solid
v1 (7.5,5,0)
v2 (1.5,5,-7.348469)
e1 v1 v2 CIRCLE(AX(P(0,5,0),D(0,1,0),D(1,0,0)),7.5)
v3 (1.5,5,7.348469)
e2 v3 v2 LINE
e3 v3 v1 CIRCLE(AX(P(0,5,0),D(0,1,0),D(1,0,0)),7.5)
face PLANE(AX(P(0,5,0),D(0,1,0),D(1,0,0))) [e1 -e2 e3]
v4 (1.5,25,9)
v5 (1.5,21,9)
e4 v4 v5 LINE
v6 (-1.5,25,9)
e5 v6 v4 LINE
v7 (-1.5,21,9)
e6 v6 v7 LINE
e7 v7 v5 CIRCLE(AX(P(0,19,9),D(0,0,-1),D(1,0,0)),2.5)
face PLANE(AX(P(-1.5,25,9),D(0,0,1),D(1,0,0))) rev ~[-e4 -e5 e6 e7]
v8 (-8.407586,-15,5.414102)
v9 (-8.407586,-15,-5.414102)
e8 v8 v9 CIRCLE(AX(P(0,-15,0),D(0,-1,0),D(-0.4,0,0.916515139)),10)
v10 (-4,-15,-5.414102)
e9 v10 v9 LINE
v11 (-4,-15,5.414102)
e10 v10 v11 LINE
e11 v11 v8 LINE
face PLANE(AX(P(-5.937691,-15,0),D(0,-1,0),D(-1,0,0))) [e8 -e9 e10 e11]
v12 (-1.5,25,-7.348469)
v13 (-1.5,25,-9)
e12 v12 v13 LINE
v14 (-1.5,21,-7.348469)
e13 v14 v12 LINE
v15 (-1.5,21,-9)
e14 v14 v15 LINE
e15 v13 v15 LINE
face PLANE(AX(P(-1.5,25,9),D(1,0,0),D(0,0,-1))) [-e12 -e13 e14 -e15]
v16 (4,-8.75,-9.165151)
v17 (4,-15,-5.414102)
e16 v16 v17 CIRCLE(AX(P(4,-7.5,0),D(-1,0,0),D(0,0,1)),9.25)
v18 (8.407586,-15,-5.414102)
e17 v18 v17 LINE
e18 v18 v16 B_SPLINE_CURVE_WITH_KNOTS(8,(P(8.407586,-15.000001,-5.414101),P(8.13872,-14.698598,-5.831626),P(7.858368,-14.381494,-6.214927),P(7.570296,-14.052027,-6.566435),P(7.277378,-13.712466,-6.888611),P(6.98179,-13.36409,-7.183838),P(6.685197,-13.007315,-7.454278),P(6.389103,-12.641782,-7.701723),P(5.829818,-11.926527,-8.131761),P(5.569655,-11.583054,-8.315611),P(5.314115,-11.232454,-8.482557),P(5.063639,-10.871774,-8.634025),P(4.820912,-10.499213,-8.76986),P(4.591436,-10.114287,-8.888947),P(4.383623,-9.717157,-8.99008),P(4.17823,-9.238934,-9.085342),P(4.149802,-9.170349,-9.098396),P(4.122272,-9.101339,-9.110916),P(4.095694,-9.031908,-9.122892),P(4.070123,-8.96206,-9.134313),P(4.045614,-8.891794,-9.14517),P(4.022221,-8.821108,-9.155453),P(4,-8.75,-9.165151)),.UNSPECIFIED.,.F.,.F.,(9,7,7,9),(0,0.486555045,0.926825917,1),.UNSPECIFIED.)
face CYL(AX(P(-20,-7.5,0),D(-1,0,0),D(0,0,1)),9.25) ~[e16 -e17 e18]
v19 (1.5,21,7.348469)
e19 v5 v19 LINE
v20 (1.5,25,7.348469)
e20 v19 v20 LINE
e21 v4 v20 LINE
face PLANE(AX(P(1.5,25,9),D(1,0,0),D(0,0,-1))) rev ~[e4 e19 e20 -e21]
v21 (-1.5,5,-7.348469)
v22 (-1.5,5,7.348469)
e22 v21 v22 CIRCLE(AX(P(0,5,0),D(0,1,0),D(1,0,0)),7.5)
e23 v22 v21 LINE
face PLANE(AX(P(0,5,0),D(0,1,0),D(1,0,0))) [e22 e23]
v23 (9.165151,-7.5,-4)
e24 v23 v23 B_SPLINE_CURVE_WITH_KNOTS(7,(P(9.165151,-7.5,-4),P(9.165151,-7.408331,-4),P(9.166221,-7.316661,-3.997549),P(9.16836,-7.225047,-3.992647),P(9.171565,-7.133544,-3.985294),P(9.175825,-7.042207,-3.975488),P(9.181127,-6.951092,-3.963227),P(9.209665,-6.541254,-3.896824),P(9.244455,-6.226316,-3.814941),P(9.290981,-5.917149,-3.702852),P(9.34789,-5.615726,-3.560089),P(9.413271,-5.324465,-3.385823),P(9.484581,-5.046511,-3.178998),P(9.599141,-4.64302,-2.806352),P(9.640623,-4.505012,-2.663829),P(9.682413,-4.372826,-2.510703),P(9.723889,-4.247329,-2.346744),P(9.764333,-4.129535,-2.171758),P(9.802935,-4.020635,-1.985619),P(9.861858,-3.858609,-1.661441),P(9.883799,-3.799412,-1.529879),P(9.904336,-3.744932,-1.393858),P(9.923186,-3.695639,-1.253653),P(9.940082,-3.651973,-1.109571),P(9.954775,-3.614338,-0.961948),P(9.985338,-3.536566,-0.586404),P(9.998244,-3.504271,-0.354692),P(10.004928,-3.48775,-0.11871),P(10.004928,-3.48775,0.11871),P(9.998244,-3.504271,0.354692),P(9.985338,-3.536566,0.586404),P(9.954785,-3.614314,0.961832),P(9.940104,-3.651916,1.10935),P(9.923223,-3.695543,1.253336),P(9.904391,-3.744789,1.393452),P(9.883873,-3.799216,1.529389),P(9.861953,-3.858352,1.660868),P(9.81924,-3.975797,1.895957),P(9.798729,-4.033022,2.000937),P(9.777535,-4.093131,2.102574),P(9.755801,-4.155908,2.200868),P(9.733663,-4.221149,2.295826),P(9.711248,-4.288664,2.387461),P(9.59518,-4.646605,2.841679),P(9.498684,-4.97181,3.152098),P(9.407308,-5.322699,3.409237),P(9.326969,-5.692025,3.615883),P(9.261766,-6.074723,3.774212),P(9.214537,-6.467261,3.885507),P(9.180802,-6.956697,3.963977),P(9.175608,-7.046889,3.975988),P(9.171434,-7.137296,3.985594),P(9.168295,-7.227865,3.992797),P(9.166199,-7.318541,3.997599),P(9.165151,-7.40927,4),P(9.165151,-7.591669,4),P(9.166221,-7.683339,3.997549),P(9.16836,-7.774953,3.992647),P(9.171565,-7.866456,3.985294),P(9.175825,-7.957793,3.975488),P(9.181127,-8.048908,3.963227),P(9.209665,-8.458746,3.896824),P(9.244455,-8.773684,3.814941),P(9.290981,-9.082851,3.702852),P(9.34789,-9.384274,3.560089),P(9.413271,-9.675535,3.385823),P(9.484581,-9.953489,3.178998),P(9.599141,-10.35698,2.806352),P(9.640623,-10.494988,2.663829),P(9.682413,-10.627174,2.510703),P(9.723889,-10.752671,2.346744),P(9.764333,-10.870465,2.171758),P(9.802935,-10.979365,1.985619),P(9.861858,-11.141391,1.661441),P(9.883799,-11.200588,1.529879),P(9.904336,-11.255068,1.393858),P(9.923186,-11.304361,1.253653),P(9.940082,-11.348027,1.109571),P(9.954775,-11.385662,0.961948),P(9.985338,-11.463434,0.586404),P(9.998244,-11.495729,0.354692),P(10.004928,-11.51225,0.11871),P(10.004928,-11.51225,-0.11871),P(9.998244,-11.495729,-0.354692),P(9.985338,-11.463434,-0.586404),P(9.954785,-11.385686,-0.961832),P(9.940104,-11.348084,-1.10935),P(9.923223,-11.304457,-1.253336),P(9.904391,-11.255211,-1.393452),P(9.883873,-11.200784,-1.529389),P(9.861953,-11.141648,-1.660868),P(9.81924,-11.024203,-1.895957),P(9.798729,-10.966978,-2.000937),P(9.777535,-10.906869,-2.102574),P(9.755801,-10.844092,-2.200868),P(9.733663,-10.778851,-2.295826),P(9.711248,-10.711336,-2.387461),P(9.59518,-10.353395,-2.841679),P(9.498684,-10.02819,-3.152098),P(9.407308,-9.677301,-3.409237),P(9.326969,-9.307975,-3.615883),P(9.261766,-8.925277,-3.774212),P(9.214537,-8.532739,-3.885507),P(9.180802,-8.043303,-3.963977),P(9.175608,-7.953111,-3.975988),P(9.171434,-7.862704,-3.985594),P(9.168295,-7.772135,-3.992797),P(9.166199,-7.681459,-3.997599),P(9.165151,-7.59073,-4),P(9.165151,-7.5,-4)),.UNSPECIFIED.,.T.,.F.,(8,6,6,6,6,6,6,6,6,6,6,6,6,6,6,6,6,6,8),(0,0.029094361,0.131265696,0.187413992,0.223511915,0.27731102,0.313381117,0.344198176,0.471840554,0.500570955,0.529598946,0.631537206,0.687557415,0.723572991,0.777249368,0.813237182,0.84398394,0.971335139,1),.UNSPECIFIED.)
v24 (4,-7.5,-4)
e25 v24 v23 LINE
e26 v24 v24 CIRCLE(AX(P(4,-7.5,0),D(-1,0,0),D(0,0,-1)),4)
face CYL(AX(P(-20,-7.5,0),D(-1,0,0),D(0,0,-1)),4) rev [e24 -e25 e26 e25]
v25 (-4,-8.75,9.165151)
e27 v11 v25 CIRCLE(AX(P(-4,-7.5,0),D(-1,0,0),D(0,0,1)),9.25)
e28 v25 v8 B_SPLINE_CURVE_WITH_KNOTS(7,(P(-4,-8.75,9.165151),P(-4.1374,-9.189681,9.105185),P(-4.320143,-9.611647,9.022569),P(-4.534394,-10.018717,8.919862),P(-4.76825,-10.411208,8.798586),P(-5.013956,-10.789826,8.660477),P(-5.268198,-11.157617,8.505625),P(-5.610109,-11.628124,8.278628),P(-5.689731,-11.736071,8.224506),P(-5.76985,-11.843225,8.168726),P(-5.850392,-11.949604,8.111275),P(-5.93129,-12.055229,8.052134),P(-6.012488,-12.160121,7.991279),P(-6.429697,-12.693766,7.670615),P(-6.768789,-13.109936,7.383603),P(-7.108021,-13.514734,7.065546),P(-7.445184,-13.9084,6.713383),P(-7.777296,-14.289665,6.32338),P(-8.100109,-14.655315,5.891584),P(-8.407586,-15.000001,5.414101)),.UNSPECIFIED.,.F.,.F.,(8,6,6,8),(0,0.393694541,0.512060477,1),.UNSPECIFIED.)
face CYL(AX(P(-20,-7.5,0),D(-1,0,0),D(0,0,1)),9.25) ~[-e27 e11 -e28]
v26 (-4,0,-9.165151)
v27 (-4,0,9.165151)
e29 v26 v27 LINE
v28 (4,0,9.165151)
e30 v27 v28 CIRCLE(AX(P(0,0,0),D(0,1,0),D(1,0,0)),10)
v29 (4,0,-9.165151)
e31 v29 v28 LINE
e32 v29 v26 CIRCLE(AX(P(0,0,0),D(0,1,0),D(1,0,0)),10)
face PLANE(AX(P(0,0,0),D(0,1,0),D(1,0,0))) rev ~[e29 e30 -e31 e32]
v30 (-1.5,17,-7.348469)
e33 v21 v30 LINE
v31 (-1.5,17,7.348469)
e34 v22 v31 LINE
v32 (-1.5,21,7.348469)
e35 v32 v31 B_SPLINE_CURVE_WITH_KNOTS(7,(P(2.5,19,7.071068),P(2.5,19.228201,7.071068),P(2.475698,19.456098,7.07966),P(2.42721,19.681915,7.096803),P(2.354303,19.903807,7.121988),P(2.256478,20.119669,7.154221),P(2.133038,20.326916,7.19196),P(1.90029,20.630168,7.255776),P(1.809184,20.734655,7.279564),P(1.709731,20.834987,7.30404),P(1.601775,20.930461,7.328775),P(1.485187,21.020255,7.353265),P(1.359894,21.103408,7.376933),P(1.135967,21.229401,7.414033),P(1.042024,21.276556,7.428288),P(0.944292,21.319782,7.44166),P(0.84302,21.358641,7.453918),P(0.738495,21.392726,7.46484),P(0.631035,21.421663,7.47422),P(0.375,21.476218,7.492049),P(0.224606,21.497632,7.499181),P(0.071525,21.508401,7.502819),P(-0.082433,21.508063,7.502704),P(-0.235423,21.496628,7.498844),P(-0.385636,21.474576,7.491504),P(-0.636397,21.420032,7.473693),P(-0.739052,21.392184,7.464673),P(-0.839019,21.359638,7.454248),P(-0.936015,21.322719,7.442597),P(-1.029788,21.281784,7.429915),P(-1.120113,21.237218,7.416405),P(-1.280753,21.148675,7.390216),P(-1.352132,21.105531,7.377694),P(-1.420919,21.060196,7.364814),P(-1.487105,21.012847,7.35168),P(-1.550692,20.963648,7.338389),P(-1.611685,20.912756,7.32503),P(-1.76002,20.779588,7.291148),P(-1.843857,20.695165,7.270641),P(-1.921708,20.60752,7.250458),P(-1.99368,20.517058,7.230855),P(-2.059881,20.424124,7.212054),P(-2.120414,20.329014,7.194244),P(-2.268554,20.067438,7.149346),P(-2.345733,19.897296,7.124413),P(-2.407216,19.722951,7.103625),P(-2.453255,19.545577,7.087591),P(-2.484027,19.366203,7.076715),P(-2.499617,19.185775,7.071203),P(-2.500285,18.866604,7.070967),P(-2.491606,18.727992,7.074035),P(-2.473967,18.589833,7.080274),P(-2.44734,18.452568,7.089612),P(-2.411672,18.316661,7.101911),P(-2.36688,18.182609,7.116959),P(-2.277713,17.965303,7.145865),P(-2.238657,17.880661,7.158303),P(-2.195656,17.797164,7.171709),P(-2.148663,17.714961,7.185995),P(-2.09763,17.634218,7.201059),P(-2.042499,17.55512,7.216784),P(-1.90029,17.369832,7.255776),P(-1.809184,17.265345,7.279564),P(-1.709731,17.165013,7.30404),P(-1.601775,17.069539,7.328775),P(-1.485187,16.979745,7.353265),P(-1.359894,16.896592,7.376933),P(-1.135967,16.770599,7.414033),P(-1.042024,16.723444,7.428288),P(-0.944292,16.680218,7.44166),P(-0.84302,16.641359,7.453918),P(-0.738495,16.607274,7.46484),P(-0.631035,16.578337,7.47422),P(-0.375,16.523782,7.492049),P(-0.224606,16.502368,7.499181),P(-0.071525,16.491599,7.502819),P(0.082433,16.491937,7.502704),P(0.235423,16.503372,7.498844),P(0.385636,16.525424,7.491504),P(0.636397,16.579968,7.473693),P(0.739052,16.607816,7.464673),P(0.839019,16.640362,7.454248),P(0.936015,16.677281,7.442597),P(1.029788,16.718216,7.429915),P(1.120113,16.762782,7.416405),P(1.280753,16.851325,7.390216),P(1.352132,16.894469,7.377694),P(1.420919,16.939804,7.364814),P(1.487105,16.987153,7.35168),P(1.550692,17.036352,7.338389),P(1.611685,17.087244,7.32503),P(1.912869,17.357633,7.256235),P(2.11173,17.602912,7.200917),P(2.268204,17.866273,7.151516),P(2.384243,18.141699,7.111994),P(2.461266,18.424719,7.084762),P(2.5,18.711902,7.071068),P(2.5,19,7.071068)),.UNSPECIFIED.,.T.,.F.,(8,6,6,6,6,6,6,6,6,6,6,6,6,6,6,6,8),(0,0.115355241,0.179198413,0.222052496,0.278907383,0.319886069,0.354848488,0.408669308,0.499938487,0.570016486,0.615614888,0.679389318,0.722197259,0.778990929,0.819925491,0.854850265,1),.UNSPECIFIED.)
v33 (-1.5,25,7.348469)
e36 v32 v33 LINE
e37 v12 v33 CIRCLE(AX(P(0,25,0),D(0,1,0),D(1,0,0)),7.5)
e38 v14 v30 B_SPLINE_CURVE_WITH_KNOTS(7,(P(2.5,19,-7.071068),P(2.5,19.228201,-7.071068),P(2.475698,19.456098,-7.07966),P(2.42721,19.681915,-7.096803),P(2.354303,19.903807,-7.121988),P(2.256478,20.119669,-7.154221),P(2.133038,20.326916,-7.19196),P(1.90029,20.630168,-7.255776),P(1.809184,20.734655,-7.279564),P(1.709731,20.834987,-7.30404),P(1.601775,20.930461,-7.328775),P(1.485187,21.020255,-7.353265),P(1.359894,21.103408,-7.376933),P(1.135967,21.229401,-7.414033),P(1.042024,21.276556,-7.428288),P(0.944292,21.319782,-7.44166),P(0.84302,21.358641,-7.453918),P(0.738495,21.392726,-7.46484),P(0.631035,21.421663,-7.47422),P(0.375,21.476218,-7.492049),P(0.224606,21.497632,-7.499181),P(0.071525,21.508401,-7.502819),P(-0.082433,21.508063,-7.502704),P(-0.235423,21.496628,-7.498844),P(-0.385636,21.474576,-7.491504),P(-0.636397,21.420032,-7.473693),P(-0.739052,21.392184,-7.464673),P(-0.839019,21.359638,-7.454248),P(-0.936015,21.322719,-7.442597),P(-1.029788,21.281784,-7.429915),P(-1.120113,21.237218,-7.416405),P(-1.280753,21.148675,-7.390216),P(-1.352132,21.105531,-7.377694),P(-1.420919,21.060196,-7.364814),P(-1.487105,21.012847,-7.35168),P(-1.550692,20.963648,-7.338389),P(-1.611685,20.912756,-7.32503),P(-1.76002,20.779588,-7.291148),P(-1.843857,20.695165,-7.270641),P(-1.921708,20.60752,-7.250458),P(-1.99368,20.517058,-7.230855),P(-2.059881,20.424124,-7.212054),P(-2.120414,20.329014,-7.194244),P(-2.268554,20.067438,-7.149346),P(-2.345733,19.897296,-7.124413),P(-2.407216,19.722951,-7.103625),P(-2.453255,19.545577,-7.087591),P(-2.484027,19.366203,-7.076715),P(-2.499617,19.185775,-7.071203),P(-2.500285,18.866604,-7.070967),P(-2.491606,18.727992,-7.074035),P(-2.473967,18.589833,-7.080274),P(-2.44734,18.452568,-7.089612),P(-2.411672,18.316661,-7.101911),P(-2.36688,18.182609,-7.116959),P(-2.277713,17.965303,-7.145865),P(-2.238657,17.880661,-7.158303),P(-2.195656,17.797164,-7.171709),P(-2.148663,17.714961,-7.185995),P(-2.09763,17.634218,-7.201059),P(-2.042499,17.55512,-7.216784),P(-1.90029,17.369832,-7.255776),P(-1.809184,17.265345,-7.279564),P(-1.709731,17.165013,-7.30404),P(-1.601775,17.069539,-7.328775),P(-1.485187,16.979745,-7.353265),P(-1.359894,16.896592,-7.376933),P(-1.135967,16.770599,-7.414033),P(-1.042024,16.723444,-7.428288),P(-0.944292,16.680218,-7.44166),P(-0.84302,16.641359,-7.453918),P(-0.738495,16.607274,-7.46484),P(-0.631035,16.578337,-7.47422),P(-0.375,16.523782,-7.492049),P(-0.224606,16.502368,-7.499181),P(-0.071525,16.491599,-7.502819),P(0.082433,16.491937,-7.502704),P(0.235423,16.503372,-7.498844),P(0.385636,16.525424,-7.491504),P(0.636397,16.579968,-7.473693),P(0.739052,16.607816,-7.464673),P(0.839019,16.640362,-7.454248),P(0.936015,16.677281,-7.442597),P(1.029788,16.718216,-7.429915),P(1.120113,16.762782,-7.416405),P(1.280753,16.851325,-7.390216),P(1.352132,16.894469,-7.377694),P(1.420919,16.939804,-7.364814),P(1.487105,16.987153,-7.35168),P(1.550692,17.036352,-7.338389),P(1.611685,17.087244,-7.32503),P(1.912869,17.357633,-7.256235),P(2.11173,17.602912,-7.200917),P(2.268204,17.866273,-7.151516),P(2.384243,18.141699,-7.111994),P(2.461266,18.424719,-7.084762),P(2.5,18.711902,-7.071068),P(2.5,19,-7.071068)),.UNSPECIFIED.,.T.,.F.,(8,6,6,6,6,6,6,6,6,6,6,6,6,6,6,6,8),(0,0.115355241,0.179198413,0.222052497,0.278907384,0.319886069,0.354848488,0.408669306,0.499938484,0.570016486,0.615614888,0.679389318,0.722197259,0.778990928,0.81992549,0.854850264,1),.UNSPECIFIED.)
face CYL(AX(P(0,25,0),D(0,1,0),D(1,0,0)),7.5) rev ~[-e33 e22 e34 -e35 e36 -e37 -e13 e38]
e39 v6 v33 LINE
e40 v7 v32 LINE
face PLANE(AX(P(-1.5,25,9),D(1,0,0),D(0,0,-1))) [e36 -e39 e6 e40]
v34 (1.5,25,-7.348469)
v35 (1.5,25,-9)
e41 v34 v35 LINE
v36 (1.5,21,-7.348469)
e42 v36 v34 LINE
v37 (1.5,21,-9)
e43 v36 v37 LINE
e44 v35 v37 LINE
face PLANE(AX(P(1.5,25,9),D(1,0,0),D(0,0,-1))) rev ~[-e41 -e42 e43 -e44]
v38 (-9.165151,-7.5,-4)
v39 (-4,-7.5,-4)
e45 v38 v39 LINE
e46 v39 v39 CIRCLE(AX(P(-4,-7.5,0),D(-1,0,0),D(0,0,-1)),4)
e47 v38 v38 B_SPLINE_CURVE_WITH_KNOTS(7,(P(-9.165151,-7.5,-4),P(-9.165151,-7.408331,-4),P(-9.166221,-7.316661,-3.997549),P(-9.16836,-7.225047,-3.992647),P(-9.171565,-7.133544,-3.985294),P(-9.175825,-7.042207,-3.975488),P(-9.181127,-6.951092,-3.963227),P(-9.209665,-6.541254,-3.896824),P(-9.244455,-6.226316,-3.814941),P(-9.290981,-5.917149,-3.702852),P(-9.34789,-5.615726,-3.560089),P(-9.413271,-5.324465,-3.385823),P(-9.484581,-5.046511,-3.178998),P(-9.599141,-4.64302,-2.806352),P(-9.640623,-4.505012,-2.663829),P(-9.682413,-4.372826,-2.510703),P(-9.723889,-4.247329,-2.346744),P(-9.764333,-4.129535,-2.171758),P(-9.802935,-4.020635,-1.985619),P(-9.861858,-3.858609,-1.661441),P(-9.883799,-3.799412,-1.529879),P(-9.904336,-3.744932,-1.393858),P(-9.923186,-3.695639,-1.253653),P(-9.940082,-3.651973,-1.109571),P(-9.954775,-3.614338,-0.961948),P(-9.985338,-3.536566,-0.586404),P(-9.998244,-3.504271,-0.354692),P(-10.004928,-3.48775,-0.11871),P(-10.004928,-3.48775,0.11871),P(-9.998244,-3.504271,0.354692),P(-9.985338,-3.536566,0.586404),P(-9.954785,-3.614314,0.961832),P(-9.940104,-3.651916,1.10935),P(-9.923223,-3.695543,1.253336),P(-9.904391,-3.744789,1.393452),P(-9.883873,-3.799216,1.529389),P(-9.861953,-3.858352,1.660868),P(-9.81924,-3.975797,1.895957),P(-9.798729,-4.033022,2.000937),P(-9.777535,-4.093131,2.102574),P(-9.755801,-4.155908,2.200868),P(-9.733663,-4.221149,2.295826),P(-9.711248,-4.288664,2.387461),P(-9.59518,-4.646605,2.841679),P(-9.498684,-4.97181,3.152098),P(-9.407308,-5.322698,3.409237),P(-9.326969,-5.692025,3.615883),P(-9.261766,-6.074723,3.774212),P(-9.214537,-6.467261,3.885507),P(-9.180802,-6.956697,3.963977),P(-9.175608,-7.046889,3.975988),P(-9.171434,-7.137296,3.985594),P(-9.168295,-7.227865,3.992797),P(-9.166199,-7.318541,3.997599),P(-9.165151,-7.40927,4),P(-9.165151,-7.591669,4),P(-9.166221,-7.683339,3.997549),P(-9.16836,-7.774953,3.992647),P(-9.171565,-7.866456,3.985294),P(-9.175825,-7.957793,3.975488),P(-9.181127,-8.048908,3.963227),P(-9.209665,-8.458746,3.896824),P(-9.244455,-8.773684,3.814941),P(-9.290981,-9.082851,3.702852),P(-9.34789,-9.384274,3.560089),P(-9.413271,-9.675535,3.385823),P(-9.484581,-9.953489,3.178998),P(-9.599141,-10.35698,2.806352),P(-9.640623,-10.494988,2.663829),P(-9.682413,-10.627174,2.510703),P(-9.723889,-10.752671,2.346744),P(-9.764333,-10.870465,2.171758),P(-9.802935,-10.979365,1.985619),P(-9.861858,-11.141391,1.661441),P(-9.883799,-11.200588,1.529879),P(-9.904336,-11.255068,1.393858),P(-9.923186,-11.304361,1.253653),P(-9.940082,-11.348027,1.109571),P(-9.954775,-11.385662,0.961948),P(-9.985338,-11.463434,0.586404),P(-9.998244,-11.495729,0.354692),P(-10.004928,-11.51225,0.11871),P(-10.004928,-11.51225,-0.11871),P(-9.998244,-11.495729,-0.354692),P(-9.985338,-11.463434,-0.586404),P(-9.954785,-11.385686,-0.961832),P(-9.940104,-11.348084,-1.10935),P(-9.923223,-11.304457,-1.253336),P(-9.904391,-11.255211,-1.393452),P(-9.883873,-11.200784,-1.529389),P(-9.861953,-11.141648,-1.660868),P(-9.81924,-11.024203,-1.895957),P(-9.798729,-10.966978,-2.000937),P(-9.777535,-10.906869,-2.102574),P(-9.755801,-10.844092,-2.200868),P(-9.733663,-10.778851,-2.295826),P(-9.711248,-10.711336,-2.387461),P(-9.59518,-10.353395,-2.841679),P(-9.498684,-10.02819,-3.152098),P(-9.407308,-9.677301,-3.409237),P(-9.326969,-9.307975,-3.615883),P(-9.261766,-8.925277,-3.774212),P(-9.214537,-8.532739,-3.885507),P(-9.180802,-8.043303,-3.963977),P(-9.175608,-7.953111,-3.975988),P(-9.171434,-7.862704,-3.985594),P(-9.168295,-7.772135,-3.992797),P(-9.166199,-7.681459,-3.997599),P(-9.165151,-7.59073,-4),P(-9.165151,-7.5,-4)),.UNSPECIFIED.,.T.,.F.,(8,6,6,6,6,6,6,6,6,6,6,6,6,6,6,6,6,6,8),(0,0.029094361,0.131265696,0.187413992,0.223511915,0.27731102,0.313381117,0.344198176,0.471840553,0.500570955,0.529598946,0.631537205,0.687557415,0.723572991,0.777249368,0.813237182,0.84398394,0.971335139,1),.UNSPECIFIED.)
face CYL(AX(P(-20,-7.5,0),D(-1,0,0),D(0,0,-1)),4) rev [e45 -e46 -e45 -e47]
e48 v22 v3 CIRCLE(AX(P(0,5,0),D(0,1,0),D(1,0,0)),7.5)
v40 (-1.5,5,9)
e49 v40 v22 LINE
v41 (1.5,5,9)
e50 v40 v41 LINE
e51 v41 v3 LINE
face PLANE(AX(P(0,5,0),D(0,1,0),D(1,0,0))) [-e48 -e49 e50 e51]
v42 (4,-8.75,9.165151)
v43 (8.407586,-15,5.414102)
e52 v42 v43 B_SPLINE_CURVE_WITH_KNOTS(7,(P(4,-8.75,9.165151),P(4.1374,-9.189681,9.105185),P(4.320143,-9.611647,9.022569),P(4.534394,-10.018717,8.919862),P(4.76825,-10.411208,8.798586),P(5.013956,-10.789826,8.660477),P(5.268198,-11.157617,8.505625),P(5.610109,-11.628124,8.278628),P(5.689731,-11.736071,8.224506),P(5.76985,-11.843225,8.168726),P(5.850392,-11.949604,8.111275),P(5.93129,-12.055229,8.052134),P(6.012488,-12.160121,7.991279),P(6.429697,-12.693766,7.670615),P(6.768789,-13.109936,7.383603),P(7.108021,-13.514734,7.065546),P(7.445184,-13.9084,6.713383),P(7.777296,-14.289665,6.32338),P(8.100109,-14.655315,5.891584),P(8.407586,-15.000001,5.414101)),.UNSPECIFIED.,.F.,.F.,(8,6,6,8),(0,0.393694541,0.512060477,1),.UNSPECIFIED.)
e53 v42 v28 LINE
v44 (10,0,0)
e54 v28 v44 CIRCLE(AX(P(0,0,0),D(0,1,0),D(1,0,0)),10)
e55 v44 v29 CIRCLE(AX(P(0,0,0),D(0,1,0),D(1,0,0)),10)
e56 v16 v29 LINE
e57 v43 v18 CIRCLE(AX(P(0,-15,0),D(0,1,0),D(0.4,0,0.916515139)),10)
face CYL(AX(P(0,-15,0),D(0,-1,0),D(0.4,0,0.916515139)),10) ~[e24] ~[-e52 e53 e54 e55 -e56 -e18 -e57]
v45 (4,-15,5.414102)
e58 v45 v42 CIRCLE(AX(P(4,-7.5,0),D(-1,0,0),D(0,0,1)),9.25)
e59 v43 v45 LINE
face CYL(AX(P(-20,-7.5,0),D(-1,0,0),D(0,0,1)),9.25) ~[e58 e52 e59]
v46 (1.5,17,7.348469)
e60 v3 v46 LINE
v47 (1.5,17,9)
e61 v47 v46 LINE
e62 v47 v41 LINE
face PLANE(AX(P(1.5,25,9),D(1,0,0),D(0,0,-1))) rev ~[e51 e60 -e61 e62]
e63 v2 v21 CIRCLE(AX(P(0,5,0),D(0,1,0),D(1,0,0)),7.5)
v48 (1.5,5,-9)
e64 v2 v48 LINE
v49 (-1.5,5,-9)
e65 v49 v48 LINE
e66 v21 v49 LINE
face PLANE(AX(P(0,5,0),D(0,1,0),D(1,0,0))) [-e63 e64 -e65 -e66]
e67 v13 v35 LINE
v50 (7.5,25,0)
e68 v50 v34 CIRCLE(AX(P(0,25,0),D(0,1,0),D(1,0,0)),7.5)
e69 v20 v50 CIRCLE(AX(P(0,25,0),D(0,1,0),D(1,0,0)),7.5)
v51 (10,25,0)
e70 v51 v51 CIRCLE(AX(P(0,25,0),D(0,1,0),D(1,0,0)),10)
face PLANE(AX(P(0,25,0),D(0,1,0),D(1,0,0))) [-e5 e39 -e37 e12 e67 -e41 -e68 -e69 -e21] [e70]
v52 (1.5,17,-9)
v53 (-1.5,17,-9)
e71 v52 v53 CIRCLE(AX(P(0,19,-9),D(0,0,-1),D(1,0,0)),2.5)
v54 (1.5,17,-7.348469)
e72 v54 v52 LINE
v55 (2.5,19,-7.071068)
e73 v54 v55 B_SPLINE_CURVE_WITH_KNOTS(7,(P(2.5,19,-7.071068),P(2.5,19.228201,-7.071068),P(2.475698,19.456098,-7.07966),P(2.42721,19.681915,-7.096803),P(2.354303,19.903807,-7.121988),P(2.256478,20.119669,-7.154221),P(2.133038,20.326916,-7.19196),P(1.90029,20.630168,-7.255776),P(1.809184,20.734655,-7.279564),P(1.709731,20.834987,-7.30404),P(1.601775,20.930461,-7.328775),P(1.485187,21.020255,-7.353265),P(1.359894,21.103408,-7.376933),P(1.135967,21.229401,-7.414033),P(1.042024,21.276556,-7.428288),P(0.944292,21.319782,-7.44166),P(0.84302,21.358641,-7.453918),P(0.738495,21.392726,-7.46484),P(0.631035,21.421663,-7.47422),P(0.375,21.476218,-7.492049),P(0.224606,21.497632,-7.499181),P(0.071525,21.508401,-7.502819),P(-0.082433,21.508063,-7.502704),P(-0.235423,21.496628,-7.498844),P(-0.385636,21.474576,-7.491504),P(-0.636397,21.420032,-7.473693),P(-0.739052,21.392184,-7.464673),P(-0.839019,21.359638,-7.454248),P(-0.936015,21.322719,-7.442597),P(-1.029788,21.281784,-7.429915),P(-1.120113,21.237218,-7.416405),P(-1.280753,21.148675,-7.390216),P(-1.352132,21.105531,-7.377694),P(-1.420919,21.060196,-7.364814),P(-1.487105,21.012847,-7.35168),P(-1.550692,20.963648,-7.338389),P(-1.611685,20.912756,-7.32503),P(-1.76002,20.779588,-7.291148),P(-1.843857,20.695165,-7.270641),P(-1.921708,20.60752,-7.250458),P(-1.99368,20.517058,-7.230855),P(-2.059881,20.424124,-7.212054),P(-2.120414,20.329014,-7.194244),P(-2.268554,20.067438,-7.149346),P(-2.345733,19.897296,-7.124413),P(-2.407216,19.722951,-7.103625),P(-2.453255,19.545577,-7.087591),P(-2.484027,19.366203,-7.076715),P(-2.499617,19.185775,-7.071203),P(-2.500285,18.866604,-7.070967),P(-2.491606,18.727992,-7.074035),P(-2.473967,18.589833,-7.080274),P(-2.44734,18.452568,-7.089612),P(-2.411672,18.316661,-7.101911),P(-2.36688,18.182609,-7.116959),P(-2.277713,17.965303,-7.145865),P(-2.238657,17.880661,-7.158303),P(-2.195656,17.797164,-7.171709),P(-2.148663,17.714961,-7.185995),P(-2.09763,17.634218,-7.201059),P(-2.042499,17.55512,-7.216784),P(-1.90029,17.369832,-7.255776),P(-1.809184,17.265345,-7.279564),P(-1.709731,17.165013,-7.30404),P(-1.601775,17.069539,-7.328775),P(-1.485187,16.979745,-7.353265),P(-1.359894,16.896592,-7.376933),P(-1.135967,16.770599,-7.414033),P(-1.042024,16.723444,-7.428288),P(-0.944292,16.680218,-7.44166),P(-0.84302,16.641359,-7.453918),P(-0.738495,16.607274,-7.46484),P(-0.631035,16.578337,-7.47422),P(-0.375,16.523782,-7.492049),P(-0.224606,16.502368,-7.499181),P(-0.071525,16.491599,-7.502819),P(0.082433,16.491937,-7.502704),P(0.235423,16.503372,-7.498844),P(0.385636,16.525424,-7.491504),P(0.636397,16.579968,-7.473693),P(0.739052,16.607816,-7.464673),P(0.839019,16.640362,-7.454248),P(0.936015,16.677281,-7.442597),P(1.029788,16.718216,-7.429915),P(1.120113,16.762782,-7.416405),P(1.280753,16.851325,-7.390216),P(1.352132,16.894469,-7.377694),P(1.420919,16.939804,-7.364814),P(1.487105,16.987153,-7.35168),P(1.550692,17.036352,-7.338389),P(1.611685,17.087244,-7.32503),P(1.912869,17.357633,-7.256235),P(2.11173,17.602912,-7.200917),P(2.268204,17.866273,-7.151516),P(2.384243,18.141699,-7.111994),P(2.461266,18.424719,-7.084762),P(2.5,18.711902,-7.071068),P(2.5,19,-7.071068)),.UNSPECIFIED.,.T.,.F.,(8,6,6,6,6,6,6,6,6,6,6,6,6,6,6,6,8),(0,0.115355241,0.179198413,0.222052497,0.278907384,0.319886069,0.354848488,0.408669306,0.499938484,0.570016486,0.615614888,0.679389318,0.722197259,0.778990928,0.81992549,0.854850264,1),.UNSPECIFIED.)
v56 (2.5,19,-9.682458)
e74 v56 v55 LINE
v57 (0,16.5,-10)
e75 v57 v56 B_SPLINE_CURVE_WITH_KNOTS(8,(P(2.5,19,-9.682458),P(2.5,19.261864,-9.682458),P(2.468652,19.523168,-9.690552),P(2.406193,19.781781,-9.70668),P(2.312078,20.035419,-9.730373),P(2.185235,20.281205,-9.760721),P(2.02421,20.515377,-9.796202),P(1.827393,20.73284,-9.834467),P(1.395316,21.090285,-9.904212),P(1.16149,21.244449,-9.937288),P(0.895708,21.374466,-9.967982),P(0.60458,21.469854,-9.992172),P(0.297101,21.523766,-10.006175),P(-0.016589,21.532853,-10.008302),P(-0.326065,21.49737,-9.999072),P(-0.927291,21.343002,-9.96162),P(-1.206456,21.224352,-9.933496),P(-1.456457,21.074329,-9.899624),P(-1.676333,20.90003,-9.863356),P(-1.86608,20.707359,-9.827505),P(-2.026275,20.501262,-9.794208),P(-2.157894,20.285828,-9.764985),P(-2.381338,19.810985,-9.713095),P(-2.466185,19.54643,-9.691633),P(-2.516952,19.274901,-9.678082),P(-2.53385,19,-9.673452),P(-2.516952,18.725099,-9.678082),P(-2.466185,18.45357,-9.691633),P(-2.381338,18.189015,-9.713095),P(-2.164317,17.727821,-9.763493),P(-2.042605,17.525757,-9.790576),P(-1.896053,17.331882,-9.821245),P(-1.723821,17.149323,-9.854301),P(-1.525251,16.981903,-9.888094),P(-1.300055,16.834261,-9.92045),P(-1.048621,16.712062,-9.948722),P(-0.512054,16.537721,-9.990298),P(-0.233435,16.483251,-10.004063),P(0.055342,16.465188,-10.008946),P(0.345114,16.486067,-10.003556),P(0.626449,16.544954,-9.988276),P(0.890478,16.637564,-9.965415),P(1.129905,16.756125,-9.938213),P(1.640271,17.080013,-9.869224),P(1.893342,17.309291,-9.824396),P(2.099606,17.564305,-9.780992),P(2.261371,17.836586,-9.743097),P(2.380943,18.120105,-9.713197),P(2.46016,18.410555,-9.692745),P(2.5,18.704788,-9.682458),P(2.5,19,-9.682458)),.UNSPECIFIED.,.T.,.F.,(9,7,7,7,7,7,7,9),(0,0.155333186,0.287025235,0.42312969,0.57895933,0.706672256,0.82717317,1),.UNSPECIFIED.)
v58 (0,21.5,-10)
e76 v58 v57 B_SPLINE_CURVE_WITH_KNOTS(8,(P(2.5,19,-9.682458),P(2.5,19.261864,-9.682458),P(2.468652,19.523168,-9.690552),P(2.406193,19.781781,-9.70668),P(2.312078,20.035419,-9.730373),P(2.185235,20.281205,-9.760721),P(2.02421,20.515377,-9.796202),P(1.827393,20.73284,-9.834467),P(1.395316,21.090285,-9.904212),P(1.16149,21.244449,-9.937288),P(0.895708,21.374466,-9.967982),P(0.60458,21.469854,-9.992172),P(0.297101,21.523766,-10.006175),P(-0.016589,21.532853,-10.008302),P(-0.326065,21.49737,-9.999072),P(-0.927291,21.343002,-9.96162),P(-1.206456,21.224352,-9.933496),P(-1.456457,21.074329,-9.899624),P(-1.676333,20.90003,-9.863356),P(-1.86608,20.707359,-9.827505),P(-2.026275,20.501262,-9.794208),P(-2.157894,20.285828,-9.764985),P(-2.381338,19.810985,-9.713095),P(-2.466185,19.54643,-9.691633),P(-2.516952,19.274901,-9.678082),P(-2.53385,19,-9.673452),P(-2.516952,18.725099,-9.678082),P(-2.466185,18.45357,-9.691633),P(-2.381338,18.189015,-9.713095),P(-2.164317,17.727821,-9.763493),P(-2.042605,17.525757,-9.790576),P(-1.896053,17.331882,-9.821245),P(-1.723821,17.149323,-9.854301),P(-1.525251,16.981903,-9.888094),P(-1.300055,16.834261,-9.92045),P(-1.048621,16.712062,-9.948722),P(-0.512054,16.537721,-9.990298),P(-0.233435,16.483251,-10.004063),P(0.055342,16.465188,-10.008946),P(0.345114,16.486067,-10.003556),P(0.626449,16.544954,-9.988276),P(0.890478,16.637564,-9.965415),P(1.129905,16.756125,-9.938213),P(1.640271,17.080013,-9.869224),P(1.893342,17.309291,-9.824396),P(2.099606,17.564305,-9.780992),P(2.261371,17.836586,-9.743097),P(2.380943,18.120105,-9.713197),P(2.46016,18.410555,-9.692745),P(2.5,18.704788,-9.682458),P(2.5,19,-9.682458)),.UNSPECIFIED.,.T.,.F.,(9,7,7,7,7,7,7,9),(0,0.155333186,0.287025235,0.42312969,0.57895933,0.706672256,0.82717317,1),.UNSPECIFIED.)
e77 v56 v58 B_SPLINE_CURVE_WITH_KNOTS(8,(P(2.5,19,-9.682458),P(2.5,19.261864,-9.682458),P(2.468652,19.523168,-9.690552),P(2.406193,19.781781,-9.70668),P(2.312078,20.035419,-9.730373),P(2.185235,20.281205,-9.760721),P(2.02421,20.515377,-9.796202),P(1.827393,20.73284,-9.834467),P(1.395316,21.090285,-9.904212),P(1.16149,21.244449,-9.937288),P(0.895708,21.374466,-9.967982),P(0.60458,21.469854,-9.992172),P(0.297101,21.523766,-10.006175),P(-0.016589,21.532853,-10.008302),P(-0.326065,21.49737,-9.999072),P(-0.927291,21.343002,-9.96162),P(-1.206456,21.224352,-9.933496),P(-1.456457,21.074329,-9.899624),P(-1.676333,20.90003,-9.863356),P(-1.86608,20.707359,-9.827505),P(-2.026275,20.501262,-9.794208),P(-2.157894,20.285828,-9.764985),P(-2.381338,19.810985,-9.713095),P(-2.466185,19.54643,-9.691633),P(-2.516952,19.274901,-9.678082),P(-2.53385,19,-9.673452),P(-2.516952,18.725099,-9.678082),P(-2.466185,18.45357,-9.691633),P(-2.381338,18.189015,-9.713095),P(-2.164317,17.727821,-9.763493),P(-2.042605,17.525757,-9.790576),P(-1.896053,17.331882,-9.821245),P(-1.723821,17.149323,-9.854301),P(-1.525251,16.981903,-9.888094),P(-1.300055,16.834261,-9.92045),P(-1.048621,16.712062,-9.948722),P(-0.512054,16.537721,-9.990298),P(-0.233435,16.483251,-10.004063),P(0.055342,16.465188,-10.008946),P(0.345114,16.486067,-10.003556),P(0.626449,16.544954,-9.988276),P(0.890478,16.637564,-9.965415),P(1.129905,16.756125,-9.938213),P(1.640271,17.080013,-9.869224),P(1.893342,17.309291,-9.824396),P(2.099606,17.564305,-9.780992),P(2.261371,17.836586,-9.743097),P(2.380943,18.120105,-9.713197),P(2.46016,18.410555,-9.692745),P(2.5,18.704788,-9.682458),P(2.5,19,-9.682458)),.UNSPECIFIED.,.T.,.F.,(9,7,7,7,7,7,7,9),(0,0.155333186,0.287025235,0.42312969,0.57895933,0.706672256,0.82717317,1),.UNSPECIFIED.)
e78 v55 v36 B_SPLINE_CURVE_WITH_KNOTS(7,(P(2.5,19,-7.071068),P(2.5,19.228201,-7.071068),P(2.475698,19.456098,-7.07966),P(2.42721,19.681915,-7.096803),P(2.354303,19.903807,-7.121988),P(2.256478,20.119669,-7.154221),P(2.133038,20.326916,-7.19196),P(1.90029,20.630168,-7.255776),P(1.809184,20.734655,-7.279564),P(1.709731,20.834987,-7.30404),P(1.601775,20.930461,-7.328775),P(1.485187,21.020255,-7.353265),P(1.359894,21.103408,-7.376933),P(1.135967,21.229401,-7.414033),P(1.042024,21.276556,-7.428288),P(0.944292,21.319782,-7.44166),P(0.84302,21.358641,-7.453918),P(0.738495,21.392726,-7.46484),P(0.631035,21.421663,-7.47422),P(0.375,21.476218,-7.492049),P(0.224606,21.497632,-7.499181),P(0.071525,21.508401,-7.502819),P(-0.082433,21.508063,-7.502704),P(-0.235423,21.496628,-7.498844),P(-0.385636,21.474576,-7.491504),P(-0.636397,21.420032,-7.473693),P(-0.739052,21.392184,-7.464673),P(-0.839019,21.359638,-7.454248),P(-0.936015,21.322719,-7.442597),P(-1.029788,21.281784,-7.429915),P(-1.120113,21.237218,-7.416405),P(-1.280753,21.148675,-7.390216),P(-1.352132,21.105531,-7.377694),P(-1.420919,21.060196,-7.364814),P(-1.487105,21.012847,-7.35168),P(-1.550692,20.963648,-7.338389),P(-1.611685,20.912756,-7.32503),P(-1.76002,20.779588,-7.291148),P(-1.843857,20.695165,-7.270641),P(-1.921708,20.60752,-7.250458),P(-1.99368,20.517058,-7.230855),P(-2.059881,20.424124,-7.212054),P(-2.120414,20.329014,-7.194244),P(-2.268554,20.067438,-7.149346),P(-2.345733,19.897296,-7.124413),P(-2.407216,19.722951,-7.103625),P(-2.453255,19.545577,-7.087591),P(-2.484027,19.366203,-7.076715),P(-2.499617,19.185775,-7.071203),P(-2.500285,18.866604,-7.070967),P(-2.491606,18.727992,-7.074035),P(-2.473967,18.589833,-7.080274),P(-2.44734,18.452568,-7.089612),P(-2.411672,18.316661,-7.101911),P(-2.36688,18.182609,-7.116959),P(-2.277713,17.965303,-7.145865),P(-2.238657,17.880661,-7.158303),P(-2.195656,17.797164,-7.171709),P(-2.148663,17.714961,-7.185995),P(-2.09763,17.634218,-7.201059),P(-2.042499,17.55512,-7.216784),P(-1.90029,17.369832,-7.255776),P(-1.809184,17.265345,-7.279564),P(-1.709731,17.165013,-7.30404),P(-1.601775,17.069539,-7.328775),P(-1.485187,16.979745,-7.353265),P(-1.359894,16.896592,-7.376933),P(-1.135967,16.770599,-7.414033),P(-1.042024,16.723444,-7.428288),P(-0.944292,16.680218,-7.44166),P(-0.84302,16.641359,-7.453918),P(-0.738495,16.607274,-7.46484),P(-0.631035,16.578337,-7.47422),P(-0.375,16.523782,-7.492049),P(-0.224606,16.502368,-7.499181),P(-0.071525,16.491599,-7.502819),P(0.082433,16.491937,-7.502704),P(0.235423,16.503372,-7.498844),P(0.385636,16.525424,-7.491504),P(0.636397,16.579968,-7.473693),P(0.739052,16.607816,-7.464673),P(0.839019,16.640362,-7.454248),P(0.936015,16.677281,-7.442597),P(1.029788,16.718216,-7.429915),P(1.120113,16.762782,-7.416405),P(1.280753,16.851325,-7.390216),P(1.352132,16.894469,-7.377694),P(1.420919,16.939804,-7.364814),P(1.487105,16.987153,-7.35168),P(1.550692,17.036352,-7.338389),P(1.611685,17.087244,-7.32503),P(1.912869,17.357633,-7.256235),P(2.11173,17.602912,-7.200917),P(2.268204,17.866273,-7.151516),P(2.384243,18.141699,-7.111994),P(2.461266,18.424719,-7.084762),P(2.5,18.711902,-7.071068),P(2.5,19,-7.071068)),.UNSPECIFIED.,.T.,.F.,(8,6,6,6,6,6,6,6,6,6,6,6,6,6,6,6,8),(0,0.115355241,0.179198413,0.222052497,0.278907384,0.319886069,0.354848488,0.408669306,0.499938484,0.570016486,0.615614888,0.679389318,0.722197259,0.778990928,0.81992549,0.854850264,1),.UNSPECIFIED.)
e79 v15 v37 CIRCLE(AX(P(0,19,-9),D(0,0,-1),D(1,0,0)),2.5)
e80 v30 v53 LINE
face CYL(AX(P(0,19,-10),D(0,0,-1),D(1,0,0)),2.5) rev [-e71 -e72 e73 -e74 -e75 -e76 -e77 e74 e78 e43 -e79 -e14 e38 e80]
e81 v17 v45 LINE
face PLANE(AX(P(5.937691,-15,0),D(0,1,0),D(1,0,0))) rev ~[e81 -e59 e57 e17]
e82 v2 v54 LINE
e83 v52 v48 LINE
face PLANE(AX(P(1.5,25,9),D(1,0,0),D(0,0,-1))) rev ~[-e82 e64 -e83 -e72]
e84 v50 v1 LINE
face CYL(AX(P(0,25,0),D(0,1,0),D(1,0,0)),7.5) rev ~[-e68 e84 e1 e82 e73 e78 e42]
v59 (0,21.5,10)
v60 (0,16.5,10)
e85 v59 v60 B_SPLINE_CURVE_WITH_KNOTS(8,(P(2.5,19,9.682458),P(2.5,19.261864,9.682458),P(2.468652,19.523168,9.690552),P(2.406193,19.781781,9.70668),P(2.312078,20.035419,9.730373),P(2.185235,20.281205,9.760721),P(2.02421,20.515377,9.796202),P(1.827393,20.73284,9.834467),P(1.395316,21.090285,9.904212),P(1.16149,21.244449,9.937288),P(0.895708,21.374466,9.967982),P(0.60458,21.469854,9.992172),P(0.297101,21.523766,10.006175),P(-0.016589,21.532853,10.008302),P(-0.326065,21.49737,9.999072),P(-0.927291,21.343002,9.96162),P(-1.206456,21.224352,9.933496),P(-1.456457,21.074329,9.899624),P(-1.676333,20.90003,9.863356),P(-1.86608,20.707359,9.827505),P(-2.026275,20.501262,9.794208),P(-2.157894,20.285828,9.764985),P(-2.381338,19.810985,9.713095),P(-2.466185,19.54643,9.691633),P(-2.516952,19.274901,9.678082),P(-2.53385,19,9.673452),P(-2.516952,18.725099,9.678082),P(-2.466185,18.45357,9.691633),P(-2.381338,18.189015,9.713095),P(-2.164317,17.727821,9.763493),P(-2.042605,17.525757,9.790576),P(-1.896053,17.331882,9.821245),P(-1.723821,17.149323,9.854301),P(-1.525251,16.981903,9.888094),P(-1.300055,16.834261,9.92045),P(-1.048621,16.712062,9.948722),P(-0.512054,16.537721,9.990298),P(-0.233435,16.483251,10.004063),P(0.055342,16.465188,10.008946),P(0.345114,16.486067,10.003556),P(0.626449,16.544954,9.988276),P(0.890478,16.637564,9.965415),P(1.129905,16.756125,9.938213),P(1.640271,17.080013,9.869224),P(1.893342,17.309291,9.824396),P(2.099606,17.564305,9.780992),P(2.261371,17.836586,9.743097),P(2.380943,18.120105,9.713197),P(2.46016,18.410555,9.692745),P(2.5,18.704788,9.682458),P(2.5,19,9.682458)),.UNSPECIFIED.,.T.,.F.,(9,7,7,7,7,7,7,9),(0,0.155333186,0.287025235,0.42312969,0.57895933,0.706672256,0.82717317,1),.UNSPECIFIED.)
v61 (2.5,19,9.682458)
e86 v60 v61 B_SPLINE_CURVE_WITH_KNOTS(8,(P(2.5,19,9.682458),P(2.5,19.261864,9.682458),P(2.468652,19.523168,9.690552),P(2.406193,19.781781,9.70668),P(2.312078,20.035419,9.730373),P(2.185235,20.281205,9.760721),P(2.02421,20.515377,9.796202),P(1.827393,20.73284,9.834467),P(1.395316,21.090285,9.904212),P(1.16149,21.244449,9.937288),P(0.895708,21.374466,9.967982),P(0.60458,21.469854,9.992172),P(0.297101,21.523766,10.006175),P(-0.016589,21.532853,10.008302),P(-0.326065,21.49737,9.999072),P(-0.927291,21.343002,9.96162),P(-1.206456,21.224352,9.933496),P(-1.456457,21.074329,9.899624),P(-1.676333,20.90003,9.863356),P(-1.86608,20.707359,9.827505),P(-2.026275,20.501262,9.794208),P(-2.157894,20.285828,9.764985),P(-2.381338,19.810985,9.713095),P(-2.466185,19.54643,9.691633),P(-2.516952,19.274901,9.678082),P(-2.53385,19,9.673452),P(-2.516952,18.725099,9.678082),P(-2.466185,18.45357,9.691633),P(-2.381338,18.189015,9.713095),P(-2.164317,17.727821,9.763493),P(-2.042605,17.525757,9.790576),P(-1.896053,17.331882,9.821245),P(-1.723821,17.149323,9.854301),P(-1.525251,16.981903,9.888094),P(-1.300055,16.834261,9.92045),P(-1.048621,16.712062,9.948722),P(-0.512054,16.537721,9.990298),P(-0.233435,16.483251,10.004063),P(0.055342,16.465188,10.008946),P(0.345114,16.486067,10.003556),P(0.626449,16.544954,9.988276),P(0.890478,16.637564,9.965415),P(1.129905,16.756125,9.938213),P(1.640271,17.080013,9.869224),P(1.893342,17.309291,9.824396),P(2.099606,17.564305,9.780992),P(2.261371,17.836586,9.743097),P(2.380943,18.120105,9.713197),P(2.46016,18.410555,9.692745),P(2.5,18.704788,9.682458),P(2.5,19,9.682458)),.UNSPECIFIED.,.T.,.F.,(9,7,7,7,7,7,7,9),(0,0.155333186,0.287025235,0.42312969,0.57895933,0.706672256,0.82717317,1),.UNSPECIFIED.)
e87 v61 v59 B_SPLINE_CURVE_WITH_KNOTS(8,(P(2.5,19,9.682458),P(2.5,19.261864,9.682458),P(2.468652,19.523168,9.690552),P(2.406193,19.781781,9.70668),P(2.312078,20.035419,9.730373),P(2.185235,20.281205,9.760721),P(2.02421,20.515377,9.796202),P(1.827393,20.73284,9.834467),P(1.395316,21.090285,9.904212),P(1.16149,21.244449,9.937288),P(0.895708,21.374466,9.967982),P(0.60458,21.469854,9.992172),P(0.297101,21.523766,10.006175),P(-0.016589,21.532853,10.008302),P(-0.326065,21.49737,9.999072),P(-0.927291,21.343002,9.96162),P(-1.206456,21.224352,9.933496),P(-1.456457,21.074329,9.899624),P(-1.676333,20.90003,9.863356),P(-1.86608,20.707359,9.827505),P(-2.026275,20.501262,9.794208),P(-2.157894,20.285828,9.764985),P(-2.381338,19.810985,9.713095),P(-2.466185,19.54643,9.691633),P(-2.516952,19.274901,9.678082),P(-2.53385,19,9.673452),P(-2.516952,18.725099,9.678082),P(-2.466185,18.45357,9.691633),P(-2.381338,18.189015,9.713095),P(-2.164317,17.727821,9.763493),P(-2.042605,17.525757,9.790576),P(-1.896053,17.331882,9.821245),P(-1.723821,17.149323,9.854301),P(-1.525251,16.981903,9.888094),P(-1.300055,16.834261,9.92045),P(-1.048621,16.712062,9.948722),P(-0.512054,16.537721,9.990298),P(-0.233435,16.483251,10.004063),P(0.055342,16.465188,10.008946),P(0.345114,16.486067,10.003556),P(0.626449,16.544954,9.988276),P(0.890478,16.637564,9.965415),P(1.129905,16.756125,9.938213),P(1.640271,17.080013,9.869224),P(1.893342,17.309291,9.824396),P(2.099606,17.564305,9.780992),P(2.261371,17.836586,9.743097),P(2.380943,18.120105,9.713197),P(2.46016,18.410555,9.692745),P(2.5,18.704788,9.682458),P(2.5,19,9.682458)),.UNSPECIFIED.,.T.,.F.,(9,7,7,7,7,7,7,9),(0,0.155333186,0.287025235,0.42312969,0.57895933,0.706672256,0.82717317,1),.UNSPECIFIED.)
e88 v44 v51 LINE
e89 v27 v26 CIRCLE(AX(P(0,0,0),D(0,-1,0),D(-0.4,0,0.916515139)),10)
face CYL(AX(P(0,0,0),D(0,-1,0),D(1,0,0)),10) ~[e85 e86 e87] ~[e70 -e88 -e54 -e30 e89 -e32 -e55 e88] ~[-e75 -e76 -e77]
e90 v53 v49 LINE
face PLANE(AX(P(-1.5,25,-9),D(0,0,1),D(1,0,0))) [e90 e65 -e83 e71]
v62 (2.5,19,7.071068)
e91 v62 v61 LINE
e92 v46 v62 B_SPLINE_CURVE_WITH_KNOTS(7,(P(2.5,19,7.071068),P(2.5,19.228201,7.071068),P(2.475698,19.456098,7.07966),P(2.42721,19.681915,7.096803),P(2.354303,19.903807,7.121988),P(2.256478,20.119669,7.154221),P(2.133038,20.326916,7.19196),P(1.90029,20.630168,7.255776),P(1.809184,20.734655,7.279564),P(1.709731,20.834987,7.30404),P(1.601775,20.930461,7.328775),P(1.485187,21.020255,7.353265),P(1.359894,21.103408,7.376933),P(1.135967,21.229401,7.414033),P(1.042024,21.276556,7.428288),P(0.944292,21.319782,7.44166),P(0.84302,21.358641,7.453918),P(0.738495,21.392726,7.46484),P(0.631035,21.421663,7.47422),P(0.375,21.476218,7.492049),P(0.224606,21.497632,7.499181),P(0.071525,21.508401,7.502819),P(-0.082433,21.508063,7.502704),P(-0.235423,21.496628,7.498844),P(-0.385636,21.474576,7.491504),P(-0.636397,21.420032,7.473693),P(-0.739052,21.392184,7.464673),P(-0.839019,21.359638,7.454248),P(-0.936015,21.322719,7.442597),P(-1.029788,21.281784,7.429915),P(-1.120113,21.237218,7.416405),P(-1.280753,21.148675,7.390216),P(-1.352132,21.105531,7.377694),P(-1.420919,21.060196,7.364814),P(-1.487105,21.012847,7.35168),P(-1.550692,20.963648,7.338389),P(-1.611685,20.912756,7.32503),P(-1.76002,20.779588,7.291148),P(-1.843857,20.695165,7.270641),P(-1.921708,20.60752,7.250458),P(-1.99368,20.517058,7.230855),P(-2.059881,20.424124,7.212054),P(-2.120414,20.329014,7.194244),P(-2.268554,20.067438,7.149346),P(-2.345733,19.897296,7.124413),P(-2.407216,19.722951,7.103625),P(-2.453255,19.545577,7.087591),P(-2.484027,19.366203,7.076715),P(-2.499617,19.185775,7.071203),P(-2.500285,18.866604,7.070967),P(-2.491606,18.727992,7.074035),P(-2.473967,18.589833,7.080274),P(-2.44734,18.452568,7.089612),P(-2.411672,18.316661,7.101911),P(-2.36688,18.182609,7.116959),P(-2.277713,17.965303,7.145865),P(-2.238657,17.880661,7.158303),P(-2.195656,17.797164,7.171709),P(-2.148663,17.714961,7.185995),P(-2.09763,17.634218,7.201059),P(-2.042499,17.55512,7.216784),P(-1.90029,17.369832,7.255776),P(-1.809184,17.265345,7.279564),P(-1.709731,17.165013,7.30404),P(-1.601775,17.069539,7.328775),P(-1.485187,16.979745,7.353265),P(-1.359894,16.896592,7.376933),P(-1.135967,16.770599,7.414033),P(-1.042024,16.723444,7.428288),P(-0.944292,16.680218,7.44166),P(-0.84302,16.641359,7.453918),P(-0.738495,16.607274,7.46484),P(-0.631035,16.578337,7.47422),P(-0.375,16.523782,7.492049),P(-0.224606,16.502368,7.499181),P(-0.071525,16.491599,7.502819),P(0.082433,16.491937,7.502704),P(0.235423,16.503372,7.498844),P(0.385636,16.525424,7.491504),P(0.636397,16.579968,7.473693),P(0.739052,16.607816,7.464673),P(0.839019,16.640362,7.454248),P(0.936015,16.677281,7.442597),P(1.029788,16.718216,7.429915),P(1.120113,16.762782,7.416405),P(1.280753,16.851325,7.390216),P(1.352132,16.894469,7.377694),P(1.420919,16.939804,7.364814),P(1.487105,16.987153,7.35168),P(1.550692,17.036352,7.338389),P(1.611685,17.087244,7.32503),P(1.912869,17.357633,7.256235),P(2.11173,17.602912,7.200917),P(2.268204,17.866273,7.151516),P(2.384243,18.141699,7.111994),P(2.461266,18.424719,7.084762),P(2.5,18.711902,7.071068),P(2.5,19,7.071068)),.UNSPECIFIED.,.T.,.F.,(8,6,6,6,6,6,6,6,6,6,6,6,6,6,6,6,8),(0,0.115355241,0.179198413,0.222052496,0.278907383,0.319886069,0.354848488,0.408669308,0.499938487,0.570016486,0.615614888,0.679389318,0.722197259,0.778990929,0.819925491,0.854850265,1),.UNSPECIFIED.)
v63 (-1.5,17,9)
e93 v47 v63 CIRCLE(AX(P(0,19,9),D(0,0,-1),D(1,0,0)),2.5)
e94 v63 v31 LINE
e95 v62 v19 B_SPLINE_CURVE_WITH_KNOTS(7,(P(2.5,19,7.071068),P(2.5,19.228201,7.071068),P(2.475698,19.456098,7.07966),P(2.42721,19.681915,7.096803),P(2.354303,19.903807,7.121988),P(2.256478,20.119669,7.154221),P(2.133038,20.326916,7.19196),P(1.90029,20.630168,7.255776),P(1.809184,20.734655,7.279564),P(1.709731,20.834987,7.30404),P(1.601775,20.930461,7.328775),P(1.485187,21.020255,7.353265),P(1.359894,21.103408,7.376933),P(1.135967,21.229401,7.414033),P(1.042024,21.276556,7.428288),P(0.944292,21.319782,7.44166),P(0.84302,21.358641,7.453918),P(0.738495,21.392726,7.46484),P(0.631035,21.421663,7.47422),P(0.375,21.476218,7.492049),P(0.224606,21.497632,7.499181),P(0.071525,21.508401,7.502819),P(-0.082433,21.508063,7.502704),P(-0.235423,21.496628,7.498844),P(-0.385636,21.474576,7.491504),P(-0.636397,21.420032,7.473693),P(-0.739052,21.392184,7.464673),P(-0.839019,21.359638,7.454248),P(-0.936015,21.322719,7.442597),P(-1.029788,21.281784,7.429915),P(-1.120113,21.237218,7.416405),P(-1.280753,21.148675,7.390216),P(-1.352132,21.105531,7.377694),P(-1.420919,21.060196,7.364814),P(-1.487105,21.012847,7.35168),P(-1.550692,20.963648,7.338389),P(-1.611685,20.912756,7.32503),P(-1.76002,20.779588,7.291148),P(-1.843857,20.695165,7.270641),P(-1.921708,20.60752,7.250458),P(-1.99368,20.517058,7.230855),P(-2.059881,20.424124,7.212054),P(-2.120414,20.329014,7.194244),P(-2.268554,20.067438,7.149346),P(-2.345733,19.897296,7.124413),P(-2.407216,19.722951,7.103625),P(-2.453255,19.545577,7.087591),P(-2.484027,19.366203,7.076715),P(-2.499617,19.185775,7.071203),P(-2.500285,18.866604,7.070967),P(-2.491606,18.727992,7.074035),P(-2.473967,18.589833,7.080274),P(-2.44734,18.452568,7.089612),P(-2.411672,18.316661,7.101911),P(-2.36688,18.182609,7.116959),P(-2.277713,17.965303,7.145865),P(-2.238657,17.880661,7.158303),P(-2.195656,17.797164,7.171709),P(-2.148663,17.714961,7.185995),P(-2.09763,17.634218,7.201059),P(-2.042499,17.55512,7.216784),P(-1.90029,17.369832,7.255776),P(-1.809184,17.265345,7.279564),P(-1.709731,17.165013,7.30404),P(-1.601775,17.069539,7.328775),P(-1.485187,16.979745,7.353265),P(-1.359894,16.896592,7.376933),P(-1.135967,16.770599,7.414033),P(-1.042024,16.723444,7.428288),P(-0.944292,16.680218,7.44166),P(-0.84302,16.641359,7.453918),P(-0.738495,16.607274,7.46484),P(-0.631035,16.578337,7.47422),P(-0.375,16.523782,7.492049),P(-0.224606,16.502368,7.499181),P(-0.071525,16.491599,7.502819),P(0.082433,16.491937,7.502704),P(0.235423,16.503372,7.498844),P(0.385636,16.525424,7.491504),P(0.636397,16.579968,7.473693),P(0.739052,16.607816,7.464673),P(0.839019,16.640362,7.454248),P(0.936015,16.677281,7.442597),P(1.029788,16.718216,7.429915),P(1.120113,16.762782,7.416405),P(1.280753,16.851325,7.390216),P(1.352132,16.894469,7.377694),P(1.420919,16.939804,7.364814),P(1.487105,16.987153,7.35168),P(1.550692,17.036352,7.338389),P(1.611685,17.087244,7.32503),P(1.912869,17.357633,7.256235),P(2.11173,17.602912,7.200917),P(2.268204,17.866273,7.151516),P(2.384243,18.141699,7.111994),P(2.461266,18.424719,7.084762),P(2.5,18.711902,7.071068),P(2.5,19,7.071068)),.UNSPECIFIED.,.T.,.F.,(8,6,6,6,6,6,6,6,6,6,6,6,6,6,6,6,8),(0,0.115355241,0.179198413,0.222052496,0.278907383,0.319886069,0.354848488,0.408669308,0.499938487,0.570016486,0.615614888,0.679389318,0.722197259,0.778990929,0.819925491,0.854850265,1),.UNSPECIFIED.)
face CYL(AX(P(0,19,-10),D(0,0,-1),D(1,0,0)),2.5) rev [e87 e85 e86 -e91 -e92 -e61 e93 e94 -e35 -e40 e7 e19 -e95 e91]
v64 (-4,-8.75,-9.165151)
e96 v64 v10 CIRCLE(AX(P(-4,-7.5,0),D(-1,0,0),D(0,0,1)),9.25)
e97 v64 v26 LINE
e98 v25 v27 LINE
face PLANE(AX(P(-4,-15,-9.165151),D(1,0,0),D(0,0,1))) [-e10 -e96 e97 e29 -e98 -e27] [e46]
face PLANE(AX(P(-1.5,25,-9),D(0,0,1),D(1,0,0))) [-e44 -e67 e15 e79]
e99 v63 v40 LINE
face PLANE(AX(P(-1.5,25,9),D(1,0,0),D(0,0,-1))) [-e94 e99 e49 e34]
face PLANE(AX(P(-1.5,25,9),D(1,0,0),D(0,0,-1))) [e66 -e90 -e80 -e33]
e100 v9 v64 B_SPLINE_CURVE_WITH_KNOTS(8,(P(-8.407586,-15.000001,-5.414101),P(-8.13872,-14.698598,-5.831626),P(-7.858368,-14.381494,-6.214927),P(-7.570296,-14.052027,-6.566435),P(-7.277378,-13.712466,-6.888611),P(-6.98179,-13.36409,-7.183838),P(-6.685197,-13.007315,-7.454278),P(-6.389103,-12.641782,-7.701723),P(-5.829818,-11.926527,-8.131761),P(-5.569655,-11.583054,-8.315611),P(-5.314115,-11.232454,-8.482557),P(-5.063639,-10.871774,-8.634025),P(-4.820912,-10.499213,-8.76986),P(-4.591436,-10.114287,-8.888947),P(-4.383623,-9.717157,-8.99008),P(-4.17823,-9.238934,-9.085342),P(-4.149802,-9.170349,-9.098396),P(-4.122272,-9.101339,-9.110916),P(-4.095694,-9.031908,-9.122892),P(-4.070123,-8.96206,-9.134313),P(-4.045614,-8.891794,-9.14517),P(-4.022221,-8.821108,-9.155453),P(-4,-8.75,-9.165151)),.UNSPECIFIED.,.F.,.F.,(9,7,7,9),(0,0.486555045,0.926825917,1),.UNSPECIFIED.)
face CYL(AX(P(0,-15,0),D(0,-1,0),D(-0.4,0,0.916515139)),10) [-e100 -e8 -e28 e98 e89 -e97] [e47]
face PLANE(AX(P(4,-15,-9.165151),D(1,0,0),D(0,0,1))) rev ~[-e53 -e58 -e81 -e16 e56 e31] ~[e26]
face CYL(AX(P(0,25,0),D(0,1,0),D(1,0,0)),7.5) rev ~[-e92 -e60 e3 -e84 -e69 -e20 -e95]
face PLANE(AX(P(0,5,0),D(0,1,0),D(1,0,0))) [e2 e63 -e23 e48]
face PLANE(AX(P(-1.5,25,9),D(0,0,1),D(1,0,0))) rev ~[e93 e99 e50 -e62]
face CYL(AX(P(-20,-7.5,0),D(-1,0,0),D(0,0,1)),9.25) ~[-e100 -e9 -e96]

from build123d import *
from build123d.topology import SkipClean

# Parameters (mm, degrees)
SKETCH1_R               = 10
BOSS_EXTRUDE1_DEPTH     = 25
BOSS_EXTRUDE2_START     = -15
BOSS_EXTRUDE2_DEPTH     = 15
CUT_EXTRUDE2_DEPTH      = 20
CUT_EXTRUDE2_DEPTH_BACK = 20
SKETCH4_R               = 4
SKETCH5_R               = 7.5
CUT_EXTRUDE3_DEPTH      = 20
CUT_EXTRUDE4_DEPTH      = 10
CUT_EXTRUDE4_DEPTH_BACK = 10
SKETCH6_R               = 2.5
SKETCH7_W               = 3
SKETCH7_H               = 18
CUT_EXTRUDE5_DEPTH      = 20


with BuildPart() as part:
    # Sketch1 → Boss-Extrude1 (new body)
    with BuildSketch(Plane(origin=(0, 0, 0), x_dir=(1, 0, 0), z_dir=(0, 1, 0))):
        Circle(SKETCH1_R)
    extrude(amount=BOSS_EXTRUDE1_DEPTH)

    # Sketch3 → Boss-Extrude2 (add)
    with SkipClean():  # the faces are left unmerged after this step: merging them gives an invalid solid
        with BuildSketch(Plane(origin=(0, 0, 0), x_dir=(1, 0, 0), z_dir=(0, 1, 0)).offset(BOSS_EXTRUDE2_START)):
            with BuildLine():
                Line((-4, 9.16515139), (-4, -9.16515139))
                ThreePointArc((-4, -9.16515139), (-10, 0), (-4, 9.16515139))
            make_face()
            with BuildLine():
                Line((4, 9.16515139), (4, -9.16515139))
                ThreePointArc((4, -9.16515139), (10, 0), (4, 9.16515139))
            make_face()
        extrude(amount=BOSS_EXTRUDE2_DEPTH)

    # Sketch4 → Cut-Extrude2 (cut, two sides: drawn at the far end of the back side and taken through both)
    with SkipClean():  # the faces are left unmerged after this step: merging them gives an invalid solid
        with BuildSketch(Plane(origin=(0, 0, 0), x_dir=(0, 0, -1), z_dir=(1, 0, 0)).offset(-CUT_EXTRUDE2_DEPTH_BACK)):
            with Locations((0, -7.5)):
                Circle(SKETCH4_R)
            with BuildLine():
                Line((9.25, -7.5), (14.844368797, -7.5))
                Line((14.844368797, -7.5), (14.844368797, -20.157267439))
                Line((14.844368797, -20.157267439), (-15.402777655, -20.157267439))
                Line((-15.402777655, -20.157267439), (-15.402777655, -7.5))
                Line((-15.402777655, -7.5), (-9.25, -7.5))
                ThreePointArc((-9.25, -7.5), (0, -16.75), (9.25, -7.5))
            make_face()
        extrude(amount=CUT_EXTRUDE2_DEPTH + CUT_EXTRUDE2_DEPTH_BACK, mode=Mode.SUBTRACT)

    # Sketch5 → Cut-Extrude3 (cut)
    with SkipClean():  # the faces are left unmerged after this step: merging them gives an invalid solid
        with BuildSketch(Plane(origin=(0, 25, 0), x_dir=(1, 0, 0), z_dir=(0, 1, 0))):
            Circle(SKETCH5_R)
        extrude(amount=-CUT_EXTRUDE3_DEPTH, mode=Mode.SUBTRACT)

    # Sketch6 → Cut-Extrude4 (cut, two sides: drawn at the far end of the back side and taken through both)
    with SkipClean():  # the faces are left unmerged after this step: merging them gives an invalid solid
        with BuildSketch(Plane.XY.offset(-CUT_EXTRUDE4_DEPTH_BACK)):
            with Locations((0, 19)):
                Circle(SKETCH6_R)
        extrude(amount=CUT_EXTRUDE4_DEPTH + CUT_EXTRUDE4_DEPTH_BACK, mode=Mode.SUBTRACT)

    # Sketch7 → Cut-Extrude5 (cut)
    with SkipClean():  # the faces are left unmerged after this step: merging them gives an invalid solid
        with BuildSketch(Plane(origin=(0, 25, 0), x_dir=(1, 0, 0), z_dir=(0, 1, 0))):
            Rectangle(SKETCH7_W, SKETCH7_H)
        extrude(amount=-CUT_EXTRUDE5_DEPTH, mode=Mode.SUBTRACT)


solid = part.part
